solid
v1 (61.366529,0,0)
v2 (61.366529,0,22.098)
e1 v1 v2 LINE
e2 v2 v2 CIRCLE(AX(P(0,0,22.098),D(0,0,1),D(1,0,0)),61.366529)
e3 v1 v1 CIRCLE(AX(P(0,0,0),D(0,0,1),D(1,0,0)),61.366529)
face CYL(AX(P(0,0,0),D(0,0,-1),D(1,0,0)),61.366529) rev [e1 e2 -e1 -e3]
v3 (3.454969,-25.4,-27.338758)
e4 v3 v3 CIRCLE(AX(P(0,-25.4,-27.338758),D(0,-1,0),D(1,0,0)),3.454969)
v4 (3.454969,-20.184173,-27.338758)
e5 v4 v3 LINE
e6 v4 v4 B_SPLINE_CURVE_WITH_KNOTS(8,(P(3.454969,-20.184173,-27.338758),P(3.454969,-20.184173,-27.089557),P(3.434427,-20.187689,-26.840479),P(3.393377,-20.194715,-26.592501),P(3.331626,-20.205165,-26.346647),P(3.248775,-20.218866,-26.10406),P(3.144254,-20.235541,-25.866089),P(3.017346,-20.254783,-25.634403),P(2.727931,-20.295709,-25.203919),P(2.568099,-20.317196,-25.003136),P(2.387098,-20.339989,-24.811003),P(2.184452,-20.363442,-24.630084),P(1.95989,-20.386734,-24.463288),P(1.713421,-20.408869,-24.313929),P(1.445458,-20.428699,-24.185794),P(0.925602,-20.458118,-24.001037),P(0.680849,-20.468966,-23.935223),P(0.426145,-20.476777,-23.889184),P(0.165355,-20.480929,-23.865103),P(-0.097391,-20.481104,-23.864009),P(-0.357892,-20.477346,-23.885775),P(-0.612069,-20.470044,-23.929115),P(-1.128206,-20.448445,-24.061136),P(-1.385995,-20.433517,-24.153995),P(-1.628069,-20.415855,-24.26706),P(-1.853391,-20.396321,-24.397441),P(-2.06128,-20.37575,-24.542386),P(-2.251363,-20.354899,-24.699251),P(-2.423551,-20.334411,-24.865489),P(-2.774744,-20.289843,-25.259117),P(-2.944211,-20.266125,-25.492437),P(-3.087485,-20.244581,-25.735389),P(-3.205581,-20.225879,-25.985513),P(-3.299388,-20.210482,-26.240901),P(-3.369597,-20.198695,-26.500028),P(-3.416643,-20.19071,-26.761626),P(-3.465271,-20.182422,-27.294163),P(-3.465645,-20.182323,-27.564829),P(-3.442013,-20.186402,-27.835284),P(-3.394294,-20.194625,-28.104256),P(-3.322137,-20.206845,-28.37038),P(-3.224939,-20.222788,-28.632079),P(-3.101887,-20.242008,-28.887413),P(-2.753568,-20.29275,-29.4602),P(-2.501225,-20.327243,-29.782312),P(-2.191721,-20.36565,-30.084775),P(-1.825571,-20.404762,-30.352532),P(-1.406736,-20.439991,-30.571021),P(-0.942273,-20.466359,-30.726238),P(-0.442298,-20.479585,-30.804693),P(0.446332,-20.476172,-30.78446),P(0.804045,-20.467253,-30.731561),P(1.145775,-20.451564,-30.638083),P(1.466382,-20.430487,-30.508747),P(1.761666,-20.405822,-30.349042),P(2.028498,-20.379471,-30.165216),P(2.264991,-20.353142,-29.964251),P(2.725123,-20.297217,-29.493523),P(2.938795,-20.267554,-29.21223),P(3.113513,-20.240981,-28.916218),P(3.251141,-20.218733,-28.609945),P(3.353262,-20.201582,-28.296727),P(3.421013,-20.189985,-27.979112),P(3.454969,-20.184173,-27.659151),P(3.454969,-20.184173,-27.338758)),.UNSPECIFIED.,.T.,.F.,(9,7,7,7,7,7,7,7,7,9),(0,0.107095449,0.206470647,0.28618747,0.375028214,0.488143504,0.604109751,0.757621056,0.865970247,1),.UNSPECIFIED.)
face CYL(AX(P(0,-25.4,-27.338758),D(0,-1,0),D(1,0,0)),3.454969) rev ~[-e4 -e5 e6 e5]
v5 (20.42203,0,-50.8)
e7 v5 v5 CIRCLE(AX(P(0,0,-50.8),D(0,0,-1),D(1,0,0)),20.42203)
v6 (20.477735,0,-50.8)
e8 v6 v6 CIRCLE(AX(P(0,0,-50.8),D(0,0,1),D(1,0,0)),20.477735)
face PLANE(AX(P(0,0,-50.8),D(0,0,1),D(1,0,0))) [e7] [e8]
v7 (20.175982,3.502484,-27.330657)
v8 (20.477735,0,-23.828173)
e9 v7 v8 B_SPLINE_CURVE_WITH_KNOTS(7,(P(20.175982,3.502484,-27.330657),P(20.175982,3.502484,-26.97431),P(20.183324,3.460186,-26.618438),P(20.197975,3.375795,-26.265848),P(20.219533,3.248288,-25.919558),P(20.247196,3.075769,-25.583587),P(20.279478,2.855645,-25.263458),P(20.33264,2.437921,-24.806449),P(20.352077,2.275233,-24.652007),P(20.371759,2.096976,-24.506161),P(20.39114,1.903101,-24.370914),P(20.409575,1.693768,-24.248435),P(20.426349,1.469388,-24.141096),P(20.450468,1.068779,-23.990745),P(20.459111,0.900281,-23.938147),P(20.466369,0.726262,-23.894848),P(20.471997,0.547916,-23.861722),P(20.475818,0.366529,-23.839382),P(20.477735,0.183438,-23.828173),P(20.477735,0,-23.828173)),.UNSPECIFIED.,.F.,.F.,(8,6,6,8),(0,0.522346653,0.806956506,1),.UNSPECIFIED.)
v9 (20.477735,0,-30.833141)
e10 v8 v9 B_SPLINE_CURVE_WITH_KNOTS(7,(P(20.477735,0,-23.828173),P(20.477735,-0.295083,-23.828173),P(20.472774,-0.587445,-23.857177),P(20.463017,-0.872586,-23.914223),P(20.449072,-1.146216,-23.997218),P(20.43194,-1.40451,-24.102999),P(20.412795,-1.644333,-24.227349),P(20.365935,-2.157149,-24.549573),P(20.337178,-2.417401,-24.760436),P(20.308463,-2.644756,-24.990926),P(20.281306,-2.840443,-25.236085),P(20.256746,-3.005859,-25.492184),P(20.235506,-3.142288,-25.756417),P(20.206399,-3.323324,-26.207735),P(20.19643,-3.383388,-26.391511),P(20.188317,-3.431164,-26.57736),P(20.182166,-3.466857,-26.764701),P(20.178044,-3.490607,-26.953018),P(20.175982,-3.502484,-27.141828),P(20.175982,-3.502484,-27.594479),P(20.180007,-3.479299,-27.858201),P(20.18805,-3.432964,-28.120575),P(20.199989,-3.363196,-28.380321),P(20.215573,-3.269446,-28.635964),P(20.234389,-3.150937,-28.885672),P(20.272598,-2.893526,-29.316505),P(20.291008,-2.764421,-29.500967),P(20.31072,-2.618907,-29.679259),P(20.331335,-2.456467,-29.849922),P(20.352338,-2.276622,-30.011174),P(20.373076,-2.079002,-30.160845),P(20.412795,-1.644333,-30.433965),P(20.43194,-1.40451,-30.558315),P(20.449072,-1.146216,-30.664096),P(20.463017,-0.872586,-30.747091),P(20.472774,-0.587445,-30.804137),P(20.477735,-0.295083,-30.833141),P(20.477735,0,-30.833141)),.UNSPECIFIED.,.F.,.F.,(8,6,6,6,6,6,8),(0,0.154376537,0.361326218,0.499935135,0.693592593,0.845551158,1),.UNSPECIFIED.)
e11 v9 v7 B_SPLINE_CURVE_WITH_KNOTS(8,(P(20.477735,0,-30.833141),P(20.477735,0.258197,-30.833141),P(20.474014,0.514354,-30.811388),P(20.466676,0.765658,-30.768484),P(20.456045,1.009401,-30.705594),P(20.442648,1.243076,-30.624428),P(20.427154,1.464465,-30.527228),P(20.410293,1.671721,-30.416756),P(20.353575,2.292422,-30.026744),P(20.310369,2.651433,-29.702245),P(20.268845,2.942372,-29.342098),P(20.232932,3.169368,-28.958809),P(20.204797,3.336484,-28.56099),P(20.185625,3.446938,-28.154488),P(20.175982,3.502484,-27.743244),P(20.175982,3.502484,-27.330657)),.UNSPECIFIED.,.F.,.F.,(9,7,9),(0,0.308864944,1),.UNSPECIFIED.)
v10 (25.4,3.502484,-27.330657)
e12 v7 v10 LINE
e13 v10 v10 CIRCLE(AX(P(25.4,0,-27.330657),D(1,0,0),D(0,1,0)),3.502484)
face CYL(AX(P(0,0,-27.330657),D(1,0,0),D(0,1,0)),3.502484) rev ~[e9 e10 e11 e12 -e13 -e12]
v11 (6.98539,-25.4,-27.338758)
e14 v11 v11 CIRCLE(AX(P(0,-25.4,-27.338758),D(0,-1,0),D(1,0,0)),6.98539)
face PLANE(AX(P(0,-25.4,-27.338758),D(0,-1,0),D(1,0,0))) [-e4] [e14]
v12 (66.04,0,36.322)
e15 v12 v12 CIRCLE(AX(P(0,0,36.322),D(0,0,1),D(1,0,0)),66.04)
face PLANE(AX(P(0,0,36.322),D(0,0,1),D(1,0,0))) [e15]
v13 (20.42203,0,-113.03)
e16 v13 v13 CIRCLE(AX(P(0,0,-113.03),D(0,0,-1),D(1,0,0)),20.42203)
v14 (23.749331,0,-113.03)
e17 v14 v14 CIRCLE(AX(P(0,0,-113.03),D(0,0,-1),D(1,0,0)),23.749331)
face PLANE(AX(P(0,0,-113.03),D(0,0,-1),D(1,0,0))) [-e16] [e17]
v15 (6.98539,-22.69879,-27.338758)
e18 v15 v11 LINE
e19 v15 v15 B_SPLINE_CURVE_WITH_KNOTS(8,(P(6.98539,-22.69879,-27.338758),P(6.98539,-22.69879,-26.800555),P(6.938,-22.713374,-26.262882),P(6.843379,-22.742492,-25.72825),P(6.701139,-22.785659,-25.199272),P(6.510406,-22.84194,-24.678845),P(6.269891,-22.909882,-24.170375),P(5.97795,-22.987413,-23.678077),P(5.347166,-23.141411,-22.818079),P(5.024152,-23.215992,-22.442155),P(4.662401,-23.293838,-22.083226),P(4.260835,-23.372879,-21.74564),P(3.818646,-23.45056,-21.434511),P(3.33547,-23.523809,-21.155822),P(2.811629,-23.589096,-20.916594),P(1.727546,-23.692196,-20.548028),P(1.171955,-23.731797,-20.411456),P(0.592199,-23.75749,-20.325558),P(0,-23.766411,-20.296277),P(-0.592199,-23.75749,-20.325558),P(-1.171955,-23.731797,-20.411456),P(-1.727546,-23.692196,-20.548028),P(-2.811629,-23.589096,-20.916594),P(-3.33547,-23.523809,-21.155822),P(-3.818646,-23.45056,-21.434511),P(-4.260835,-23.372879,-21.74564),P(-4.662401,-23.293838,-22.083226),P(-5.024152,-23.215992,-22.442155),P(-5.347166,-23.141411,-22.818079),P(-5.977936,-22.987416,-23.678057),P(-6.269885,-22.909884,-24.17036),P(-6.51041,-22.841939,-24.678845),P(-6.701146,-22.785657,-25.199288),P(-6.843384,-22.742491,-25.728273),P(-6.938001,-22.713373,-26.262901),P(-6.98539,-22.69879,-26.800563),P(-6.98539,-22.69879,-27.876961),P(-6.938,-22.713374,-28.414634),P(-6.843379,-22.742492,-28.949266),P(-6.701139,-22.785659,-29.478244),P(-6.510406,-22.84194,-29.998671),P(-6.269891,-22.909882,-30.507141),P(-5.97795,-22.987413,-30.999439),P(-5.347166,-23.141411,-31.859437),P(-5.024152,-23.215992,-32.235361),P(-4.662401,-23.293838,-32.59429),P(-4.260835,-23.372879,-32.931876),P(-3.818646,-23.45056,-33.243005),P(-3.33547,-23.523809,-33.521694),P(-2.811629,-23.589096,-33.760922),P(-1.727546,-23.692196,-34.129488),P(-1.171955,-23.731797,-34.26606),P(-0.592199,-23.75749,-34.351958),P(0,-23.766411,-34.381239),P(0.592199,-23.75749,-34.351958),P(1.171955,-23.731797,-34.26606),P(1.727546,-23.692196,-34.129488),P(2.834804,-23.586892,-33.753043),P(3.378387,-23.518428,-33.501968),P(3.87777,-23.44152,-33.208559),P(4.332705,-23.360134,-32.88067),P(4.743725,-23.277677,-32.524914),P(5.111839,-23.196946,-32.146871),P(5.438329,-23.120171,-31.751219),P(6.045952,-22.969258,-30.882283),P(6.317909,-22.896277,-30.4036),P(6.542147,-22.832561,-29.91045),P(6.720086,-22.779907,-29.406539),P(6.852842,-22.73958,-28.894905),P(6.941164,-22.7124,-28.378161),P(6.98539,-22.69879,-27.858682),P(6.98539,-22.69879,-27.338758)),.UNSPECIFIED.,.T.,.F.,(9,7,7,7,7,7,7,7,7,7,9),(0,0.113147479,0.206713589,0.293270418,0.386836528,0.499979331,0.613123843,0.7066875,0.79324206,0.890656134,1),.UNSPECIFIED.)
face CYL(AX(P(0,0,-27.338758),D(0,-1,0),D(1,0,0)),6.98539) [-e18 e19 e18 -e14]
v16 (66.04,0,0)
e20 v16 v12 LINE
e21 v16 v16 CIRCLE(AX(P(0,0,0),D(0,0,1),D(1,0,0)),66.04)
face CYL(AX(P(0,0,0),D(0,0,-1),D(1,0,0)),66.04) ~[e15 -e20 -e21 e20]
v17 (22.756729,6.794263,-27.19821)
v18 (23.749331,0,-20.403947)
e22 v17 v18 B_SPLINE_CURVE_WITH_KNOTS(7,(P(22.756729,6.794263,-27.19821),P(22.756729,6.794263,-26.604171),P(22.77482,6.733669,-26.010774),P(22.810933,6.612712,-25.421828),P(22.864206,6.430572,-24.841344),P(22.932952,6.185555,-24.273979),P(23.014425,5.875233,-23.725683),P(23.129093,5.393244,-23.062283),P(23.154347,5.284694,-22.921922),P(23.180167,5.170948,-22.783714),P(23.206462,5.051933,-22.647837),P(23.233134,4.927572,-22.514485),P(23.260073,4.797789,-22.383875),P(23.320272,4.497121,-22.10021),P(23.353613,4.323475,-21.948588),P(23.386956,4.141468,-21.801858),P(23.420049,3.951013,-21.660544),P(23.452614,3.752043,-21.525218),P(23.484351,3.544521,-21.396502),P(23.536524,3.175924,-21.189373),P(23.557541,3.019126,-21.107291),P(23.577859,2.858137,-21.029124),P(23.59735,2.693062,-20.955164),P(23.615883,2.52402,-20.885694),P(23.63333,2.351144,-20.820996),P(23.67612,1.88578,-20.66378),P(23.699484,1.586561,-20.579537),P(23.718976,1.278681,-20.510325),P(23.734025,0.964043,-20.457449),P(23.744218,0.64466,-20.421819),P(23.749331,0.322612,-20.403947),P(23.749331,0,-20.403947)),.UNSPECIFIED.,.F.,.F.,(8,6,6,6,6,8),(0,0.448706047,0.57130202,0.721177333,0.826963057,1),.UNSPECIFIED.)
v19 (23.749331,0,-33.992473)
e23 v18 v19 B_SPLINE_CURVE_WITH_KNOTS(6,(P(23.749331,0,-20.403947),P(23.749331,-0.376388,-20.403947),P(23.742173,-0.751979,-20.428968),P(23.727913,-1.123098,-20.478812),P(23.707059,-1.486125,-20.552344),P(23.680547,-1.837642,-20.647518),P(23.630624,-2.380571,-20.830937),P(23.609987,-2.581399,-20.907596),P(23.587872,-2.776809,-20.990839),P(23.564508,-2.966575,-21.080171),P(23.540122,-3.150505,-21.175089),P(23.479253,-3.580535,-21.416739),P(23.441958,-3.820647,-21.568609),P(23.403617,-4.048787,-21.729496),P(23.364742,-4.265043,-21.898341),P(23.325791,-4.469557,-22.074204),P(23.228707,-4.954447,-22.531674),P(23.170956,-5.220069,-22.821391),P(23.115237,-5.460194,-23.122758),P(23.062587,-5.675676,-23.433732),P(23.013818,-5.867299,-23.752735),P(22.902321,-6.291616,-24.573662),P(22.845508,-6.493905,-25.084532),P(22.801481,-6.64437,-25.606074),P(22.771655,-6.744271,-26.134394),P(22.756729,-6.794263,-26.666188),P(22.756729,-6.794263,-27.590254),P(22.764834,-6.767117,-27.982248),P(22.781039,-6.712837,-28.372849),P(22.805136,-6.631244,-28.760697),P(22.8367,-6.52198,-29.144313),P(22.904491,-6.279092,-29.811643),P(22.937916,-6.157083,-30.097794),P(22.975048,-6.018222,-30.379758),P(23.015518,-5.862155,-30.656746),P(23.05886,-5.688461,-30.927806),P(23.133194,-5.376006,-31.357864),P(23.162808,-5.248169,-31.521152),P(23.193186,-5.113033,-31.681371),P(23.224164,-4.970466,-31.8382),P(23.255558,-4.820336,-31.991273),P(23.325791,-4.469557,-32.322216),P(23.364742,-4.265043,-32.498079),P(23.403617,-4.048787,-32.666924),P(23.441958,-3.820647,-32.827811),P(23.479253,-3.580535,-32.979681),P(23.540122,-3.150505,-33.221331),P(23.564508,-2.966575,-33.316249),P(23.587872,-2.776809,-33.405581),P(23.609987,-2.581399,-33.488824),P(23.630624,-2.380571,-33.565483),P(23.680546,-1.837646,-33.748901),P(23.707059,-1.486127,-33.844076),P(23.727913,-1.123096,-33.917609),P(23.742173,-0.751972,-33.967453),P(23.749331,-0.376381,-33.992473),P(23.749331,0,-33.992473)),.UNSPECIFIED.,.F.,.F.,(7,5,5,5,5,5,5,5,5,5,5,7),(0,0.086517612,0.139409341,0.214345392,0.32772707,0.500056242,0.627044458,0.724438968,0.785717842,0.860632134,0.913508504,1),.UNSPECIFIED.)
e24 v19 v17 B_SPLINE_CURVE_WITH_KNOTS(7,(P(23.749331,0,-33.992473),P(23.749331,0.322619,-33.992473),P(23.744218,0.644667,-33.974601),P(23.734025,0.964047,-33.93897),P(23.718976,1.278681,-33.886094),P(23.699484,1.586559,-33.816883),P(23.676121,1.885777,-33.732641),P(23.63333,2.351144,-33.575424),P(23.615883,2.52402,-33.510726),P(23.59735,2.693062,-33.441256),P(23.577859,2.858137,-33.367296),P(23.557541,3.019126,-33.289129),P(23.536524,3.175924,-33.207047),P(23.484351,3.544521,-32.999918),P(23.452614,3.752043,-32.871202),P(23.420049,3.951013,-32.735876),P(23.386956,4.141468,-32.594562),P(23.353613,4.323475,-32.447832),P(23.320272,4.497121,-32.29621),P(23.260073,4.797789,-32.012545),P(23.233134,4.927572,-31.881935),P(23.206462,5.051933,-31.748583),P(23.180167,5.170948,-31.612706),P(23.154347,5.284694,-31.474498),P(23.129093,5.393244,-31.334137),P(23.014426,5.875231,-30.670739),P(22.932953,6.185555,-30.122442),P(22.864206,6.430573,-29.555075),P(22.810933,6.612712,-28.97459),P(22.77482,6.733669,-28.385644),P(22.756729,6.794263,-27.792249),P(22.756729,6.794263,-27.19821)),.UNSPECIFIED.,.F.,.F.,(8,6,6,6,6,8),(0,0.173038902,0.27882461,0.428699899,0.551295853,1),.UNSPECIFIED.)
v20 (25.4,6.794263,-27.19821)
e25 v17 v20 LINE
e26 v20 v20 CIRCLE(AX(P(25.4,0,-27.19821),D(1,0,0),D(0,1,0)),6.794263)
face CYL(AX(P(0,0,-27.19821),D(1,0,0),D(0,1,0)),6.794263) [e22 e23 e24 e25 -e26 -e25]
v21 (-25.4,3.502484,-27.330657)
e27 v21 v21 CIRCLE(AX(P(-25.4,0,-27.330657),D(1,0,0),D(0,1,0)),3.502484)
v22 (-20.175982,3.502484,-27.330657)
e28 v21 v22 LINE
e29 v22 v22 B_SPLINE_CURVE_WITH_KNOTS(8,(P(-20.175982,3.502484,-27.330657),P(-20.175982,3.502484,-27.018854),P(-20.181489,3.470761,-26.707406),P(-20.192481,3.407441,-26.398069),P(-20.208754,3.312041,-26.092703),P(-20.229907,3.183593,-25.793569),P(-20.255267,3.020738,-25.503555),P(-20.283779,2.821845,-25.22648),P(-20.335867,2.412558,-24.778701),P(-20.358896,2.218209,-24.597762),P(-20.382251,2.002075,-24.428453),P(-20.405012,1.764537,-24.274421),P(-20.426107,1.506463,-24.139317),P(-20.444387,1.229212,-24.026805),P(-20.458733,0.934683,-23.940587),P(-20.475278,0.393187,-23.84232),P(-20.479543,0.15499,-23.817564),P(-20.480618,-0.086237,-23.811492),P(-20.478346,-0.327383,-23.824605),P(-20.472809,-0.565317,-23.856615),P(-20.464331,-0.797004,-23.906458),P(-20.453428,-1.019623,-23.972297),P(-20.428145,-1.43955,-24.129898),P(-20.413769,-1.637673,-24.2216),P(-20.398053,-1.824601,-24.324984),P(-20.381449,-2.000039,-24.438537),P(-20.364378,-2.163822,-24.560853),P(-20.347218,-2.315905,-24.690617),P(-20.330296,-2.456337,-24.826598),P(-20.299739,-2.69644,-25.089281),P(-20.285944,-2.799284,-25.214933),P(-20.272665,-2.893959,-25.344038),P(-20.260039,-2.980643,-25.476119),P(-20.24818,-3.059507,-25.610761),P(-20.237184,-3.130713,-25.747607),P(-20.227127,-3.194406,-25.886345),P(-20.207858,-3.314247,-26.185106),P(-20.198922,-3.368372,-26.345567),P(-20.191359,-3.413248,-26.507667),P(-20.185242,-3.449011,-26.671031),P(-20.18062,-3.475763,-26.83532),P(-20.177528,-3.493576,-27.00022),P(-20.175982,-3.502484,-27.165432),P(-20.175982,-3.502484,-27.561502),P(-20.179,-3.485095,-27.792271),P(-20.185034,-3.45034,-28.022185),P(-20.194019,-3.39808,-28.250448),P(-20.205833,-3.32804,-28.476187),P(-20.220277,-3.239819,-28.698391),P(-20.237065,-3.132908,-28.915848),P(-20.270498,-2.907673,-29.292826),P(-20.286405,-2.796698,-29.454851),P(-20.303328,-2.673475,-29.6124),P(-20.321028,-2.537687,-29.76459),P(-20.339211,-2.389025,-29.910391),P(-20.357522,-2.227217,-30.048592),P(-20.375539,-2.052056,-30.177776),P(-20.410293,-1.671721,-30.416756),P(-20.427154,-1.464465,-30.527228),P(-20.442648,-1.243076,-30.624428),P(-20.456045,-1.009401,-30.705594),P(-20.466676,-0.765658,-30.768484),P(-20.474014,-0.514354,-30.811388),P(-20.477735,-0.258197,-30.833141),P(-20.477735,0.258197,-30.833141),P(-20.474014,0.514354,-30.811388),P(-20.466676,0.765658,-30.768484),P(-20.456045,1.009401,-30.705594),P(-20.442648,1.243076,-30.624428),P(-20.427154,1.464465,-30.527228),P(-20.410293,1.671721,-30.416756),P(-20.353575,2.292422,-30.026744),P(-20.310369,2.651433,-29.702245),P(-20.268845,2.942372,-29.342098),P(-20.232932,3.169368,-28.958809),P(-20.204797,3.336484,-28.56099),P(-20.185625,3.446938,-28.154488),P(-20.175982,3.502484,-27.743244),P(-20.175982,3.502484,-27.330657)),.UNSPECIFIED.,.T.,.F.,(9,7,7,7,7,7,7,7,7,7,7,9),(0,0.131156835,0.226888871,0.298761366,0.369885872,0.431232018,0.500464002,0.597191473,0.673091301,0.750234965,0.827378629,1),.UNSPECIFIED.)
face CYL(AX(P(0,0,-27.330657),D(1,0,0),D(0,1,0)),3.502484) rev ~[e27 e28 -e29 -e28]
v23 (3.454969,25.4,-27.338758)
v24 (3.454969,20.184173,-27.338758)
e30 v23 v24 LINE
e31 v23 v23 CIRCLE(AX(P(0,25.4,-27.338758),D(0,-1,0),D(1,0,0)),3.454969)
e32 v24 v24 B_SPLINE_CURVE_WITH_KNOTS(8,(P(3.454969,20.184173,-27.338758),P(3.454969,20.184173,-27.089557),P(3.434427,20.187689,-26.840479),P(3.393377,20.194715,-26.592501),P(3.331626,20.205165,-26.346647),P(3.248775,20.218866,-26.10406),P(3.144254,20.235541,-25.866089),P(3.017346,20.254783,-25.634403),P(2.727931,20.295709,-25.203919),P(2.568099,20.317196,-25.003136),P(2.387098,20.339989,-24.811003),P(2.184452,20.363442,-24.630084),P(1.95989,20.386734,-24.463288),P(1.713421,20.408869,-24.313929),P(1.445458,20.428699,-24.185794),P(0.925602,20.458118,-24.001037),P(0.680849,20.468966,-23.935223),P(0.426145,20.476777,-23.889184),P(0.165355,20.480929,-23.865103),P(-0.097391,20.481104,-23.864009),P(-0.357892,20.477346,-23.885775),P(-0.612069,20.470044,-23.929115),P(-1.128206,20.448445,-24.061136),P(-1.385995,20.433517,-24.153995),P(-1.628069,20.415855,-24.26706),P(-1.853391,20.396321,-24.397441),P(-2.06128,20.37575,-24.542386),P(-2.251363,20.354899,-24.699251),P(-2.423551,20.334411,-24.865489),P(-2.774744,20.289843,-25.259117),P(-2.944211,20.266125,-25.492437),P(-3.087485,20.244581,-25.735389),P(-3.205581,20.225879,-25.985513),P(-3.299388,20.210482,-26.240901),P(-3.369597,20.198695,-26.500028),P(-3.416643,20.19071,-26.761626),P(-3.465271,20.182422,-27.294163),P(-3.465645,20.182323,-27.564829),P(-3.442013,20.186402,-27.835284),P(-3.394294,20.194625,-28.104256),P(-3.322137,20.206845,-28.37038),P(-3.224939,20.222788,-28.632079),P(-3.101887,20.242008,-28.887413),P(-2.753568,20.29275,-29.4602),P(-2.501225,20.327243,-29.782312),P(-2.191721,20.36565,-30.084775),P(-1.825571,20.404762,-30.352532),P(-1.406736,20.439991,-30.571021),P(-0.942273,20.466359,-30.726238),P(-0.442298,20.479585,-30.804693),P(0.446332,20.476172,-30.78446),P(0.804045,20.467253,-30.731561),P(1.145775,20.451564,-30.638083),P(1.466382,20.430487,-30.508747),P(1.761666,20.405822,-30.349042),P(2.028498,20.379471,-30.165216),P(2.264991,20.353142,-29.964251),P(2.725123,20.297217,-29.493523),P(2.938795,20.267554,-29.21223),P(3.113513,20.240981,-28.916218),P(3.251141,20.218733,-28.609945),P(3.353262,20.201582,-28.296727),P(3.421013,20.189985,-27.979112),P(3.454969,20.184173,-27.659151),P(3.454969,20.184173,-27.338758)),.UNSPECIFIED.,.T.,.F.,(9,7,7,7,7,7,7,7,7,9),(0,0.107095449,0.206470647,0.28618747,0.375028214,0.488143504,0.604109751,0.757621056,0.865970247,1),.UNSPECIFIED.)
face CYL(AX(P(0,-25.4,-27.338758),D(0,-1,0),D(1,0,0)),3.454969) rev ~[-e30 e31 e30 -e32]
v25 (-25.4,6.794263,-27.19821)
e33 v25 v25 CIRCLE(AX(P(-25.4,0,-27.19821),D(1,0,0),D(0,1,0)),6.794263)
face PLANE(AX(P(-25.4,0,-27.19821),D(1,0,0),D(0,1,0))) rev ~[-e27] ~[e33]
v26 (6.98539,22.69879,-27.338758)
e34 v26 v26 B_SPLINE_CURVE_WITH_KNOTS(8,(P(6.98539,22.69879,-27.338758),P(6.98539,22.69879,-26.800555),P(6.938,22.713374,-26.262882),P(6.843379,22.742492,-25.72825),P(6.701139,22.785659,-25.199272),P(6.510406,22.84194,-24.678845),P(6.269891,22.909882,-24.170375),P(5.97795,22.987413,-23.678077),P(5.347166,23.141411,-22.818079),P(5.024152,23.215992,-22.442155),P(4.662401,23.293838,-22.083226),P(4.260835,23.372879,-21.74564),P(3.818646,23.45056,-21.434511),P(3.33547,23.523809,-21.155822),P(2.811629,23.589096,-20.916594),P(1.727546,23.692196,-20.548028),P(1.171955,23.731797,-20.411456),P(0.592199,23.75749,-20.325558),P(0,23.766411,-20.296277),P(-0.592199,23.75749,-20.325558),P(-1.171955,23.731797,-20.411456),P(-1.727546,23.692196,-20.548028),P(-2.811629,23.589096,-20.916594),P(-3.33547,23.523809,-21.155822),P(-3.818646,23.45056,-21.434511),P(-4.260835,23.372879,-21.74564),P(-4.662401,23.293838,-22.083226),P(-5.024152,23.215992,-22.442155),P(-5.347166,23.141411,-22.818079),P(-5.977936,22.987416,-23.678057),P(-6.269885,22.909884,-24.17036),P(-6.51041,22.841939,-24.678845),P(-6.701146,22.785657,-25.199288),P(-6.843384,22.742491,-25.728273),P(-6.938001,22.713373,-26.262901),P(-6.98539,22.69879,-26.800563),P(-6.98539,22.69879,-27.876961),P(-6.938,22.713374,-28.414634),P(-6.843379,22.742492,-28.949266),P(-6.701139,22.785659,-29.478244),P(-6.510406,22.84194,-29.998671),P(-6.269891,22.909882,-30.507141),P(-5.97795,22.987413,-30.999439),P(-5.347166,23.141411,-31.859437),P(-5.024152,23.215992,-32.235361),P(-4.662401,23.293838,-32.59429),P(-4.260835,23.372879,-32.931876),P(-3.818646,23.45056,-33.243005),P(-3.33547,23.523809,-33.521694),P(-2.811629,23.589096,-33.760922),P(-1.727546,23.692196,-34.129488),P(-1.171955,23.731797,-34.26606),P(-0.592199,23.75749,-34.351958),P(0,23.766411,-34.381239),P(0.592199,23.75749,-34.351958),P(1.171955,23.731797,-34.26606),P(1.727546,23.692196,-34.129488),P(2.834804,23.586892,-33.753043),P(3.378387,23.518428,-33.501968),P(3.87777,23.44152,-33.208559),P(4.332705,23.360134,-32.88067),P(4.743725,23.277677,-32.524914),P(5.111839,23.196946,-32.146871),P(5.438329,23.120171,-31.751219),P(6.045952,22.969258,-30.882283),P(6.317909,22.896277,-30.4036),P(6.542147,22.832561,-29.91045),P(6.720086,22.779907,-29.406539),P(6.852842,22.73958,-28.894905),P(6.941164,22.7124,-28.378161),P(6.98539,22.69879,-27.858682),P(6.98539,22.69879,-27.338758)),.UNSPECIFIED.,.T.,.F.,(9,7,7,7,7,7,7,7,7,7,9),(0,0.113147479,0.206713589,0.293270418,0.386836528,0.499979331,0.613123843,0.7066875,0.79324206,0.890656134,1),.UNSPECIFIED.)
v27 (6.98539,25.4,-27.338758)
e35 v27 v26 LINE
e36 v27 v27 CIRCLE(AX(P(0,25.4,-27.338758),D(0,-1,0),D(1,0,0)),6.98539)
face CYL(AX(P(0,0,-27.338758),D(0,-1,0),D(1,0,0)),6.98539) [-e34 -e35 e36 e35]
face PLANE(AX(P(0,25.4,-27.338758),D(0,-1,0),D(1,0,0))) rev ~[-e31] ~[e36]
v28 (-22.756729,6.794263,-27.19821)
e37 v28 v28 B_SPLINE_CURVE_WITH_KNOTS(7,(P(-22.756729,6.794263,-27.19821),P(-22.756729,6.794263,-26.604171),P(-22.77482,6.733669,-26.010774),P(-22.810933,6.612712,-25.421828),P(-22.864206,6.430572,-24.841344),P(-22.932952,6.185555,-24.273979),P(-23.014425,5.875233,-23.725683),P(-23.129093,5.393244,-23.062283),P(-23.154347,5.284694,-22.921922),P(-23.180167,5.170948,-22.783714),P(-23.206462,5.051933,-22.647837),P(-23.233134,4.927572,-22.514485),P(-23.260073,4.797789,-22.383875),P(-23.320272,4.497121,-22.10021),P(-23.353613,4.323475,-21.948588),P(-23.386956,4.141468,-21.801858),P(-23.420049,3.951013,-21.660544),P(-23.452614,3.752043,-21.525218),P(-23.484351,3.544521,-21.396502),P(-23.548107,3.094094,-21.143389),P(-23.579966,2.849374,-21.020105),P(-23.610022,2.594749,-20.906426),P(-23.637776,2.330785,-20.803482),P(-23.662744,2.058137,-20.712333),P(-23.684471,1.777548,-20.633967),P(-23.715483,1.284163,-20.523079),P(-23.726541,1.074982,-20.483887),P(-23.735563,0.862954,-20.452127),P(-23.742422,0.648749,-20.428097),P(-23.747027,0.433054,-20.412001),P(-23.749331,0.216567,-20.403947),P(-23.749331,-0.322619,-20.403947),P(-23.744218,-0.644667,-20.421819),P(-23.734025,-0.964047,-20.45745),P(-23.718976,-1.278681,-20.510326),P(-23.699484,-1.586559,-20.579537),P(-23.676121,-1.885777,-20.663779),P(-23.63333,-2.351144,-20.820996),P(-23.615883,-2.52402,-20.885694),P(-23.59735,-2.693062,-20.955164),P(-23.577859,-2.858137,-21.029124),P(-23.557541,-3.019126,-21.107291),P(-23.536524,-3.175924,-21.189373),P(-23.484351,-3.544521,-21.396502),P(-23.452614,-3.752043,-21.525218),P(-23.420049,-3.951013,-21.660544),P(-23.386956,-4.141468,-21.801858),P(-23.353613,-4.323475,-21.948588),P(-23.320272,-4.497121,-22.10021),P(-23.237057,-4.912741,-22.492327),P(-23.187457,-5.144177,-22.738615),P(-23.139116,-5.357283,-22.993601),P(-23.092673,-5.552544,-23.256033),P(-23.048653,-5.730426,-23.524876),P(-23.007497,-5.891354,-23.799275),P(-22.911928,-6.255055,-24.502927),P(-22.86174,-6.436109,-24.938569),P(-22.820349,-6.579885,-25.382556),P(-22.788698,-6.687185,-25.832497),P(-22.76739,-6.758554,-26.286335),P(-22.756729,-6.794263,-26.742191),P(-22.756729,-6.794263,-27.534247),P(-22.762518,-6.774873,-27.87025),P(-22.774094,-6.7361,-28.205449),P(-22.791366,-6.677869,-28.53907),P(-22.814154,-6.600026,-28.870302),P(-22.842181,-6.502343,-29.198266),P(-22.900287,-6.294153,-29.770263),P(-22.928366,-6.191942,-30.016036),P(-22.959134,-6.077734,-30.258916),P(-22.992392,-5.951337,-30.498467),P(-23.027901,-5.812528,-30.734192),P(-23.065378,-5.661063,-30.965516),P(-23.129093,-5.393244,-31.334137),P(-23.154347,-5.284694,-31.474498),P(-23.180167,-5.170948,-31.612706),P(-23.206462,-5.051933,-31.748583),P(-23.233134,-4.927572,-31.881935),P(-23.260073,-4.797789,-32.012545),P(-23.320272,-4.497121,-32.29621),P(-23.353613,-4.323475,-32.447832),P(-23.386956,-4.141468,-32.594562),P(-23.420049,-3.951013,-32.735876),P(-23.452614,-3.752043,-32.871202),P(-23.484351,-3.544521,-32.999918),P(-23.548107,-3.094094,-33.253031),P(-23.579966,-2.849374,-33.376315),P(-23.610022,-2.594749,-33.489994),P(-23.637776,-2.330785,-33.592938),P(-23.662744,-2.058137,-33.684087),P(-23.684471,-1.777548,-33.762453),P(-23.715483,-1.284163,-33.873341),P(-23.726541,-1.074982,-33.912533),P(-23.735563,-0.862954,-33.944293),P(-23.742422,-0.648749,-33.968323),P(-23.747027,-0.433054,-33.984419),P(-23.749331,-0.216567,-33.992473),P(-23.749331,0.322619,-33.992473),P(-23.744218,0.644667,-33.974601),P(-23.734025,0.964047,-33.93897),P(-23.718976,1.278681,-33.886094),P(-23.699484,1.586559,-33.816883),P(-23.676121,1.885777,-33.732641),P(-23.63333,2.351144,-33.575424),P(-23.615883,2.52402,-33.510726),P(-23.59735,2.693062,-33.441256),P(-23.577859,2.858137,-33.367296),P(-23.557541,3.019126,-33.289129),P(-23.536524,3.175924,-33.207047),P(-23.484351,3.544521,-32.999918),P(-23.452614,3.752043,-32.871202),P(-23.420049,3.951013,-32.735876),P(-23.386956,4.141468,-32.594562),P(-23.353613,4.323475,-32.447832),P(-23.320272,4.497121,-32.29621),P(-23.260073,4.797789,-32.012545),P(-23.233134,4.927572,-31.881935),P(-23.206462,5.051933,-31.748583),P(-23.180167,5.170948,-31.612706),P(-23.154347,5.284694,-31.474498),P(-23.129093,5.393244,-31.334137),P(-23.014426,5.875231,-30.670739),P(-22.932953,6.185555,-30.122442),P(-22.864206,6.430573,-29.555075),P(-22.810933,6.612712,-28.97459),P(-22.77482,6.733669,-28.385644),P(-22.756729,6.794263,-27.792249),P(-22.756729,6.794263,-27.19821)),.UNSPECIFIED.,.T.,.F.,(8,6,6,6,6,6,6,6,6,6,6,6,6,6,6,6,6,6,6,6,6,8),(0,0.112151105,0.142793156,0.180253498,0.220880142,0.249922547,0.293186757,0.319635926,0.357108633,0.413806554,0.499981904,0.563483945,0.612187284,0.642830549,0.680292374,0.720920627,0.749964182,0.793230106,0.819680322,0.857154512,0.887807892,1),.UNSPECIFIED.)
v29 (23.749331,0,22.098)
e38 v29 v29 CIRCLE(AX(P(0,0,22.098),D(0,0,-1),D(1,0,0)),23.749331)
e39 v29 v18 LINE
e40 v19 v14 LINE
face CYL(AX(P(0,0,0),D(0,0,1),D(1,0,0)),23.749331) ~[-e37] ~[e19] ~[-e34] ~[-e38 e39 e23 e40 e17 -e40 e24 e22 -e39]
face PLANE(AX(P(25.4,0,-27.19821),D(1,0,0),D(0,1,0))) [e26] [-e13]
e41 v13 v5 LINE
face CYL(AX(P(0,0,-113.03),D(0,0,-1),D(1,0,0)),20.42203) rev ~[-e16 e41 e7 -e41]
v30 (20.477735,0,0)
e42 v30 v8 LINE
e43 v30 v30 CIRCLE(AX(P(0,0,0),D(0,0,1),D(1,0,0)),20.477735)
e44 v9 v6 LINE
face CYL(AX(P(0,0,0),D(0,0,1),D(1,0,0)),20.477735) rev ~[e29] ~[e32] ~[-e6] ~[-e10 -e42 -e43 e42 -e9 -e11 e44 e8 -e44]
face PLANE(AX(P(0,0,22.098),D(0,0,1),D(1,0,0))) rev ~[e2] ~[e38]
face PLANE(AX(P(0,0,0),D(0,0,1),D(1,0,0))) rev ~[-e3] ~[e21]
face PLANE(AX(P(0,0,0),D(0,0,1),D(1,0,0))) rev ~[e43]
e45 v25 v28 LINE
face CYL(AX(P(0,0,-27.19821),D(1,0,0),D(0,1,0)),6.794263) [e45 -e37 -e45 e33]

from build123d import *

# Parameters (mm, degrees)
F0_R       = 66.04
F1_DEPTH   = 36.322
F2_R       = 61.366529
F3_DEPTH   = 22.098
F4_R       = 23.749331
F5_DEPTH   = 23.622
F5_FACE_R  = 23.749331
F6_DEPTH   = 113.03
F7_R       = 20.42203
F8_DEPTH   = 101.6
F9_R       = 4.958863
F10_DEPTH  = 12.7
F10_FACE_R = 4.958863
F11_DEPTH  = 10.147979
F13_R      = 6.98539
F14_DEPTH  = 25.4
F15_R      = 6.794263
F16_DEPTH  = 25.4
F17_R      = 3.502484
F18_DEPTH  = 40.0812
F19_R      = 3.454969
F20_DEPTH  = 72.136
F21_R      = 20.477735
F22_DEPTH  = 50.8


with BuildPart() as f1:
    # F0 (on Top) → F1 (new body)
    with BuildSketch(Plane.XY):
        Circle(F0_R)
    extrude(amount=F1_DEPTH)

    # F2 (on Top) → F3 (cut)
    with BuildSketch(Plane.XY):
        Circle(F2_R)
    extrude(amount=F3_DEPTH, mode=Mode.SUBTRACT)

    # F4 (on Top) → F5 (join)
    with BuildSketch(Plane.XY):
        Circle(F4_R)
    extrude(amount=F5_DEPTH)

    # F5_face (on face) → F6 (join)
    with BuildSketch(Plane(origin=(0, 0, 0), x_dir=(1, 0, 0), z_dir=(0, 0, -1))):
        Circle(F5_FACE_R)
    extrude(amount=F6_DEPTH)

    # F7 (on face) → F8 (cut)
    with BuildSketch(Plane(origin=(0, 0, -113.03), x_dir=(1, 0, 0), z_dir=(0, 0, -1))):
        Circle(F7_R)
    extrude(amount=-F8_DEPTH, mode=Mode.SUBTRACT)

    # F13 (on Front) → F14 (join, symmetric)
    with BuildSketch(Plane.XZ):
        with Locations((0, -27.338758)):
            Circle(F13_R)
    extrude(amount=F14_DEPTH, both=True)

    # F15 (on Right) → F16 (join, symmetric)
    with BuildSketch(Plane.YZ):
        with Locations((0, -27.19821)):
            Circle(F15_R)
    extrude(amount=F16_DEPTH, both=True)

    # F17 (on Right) → F18 (cut, symmetric)
    with BuildSketch(Plane.YZ):
        with Locations((0, -27.330657)):
            Circle(F17_R)
    extrude(amount=F18_DEPTH, both=True, mode=Mode.SUBTRACT)

    # F19 (on face) → F20 (cut, symmetric)
    with BuildSketch(Plane.XZ.offset(25.4)):
        with Locations((0, -27.338758)):
            Circle(F19_R)
    extrude(amount=F20_DEPTH, both=True, mode=Mode.SUBTRACT)

    # F21 (on Top) → F22 (cut)
    with BuildSketch(Plane.XY):
        Circle(F21_R)
    extrude(amount=-F22_DEPTH, mode=Mode.SUBTRACT)


with BuildPart() as f10:
    # F9 (on Front) → F10 (new body)
    with BuildSketch(Plane.XZ):
        with Locations((0, -18.813234)):
            Circle(F9_R)
    extrude(amount=F10_DEPTH)

    # F10_face (on face) → F11 (join)
    with BuildSketch(Plane(origin=(0, 0, -18.813234), x_dir=(1, 0, 0), z_dir=(0, 1, 0))):
        Circle(F10_FACE_R)
    extrude(amount=F11_DEPTH)


solid = f1.part
